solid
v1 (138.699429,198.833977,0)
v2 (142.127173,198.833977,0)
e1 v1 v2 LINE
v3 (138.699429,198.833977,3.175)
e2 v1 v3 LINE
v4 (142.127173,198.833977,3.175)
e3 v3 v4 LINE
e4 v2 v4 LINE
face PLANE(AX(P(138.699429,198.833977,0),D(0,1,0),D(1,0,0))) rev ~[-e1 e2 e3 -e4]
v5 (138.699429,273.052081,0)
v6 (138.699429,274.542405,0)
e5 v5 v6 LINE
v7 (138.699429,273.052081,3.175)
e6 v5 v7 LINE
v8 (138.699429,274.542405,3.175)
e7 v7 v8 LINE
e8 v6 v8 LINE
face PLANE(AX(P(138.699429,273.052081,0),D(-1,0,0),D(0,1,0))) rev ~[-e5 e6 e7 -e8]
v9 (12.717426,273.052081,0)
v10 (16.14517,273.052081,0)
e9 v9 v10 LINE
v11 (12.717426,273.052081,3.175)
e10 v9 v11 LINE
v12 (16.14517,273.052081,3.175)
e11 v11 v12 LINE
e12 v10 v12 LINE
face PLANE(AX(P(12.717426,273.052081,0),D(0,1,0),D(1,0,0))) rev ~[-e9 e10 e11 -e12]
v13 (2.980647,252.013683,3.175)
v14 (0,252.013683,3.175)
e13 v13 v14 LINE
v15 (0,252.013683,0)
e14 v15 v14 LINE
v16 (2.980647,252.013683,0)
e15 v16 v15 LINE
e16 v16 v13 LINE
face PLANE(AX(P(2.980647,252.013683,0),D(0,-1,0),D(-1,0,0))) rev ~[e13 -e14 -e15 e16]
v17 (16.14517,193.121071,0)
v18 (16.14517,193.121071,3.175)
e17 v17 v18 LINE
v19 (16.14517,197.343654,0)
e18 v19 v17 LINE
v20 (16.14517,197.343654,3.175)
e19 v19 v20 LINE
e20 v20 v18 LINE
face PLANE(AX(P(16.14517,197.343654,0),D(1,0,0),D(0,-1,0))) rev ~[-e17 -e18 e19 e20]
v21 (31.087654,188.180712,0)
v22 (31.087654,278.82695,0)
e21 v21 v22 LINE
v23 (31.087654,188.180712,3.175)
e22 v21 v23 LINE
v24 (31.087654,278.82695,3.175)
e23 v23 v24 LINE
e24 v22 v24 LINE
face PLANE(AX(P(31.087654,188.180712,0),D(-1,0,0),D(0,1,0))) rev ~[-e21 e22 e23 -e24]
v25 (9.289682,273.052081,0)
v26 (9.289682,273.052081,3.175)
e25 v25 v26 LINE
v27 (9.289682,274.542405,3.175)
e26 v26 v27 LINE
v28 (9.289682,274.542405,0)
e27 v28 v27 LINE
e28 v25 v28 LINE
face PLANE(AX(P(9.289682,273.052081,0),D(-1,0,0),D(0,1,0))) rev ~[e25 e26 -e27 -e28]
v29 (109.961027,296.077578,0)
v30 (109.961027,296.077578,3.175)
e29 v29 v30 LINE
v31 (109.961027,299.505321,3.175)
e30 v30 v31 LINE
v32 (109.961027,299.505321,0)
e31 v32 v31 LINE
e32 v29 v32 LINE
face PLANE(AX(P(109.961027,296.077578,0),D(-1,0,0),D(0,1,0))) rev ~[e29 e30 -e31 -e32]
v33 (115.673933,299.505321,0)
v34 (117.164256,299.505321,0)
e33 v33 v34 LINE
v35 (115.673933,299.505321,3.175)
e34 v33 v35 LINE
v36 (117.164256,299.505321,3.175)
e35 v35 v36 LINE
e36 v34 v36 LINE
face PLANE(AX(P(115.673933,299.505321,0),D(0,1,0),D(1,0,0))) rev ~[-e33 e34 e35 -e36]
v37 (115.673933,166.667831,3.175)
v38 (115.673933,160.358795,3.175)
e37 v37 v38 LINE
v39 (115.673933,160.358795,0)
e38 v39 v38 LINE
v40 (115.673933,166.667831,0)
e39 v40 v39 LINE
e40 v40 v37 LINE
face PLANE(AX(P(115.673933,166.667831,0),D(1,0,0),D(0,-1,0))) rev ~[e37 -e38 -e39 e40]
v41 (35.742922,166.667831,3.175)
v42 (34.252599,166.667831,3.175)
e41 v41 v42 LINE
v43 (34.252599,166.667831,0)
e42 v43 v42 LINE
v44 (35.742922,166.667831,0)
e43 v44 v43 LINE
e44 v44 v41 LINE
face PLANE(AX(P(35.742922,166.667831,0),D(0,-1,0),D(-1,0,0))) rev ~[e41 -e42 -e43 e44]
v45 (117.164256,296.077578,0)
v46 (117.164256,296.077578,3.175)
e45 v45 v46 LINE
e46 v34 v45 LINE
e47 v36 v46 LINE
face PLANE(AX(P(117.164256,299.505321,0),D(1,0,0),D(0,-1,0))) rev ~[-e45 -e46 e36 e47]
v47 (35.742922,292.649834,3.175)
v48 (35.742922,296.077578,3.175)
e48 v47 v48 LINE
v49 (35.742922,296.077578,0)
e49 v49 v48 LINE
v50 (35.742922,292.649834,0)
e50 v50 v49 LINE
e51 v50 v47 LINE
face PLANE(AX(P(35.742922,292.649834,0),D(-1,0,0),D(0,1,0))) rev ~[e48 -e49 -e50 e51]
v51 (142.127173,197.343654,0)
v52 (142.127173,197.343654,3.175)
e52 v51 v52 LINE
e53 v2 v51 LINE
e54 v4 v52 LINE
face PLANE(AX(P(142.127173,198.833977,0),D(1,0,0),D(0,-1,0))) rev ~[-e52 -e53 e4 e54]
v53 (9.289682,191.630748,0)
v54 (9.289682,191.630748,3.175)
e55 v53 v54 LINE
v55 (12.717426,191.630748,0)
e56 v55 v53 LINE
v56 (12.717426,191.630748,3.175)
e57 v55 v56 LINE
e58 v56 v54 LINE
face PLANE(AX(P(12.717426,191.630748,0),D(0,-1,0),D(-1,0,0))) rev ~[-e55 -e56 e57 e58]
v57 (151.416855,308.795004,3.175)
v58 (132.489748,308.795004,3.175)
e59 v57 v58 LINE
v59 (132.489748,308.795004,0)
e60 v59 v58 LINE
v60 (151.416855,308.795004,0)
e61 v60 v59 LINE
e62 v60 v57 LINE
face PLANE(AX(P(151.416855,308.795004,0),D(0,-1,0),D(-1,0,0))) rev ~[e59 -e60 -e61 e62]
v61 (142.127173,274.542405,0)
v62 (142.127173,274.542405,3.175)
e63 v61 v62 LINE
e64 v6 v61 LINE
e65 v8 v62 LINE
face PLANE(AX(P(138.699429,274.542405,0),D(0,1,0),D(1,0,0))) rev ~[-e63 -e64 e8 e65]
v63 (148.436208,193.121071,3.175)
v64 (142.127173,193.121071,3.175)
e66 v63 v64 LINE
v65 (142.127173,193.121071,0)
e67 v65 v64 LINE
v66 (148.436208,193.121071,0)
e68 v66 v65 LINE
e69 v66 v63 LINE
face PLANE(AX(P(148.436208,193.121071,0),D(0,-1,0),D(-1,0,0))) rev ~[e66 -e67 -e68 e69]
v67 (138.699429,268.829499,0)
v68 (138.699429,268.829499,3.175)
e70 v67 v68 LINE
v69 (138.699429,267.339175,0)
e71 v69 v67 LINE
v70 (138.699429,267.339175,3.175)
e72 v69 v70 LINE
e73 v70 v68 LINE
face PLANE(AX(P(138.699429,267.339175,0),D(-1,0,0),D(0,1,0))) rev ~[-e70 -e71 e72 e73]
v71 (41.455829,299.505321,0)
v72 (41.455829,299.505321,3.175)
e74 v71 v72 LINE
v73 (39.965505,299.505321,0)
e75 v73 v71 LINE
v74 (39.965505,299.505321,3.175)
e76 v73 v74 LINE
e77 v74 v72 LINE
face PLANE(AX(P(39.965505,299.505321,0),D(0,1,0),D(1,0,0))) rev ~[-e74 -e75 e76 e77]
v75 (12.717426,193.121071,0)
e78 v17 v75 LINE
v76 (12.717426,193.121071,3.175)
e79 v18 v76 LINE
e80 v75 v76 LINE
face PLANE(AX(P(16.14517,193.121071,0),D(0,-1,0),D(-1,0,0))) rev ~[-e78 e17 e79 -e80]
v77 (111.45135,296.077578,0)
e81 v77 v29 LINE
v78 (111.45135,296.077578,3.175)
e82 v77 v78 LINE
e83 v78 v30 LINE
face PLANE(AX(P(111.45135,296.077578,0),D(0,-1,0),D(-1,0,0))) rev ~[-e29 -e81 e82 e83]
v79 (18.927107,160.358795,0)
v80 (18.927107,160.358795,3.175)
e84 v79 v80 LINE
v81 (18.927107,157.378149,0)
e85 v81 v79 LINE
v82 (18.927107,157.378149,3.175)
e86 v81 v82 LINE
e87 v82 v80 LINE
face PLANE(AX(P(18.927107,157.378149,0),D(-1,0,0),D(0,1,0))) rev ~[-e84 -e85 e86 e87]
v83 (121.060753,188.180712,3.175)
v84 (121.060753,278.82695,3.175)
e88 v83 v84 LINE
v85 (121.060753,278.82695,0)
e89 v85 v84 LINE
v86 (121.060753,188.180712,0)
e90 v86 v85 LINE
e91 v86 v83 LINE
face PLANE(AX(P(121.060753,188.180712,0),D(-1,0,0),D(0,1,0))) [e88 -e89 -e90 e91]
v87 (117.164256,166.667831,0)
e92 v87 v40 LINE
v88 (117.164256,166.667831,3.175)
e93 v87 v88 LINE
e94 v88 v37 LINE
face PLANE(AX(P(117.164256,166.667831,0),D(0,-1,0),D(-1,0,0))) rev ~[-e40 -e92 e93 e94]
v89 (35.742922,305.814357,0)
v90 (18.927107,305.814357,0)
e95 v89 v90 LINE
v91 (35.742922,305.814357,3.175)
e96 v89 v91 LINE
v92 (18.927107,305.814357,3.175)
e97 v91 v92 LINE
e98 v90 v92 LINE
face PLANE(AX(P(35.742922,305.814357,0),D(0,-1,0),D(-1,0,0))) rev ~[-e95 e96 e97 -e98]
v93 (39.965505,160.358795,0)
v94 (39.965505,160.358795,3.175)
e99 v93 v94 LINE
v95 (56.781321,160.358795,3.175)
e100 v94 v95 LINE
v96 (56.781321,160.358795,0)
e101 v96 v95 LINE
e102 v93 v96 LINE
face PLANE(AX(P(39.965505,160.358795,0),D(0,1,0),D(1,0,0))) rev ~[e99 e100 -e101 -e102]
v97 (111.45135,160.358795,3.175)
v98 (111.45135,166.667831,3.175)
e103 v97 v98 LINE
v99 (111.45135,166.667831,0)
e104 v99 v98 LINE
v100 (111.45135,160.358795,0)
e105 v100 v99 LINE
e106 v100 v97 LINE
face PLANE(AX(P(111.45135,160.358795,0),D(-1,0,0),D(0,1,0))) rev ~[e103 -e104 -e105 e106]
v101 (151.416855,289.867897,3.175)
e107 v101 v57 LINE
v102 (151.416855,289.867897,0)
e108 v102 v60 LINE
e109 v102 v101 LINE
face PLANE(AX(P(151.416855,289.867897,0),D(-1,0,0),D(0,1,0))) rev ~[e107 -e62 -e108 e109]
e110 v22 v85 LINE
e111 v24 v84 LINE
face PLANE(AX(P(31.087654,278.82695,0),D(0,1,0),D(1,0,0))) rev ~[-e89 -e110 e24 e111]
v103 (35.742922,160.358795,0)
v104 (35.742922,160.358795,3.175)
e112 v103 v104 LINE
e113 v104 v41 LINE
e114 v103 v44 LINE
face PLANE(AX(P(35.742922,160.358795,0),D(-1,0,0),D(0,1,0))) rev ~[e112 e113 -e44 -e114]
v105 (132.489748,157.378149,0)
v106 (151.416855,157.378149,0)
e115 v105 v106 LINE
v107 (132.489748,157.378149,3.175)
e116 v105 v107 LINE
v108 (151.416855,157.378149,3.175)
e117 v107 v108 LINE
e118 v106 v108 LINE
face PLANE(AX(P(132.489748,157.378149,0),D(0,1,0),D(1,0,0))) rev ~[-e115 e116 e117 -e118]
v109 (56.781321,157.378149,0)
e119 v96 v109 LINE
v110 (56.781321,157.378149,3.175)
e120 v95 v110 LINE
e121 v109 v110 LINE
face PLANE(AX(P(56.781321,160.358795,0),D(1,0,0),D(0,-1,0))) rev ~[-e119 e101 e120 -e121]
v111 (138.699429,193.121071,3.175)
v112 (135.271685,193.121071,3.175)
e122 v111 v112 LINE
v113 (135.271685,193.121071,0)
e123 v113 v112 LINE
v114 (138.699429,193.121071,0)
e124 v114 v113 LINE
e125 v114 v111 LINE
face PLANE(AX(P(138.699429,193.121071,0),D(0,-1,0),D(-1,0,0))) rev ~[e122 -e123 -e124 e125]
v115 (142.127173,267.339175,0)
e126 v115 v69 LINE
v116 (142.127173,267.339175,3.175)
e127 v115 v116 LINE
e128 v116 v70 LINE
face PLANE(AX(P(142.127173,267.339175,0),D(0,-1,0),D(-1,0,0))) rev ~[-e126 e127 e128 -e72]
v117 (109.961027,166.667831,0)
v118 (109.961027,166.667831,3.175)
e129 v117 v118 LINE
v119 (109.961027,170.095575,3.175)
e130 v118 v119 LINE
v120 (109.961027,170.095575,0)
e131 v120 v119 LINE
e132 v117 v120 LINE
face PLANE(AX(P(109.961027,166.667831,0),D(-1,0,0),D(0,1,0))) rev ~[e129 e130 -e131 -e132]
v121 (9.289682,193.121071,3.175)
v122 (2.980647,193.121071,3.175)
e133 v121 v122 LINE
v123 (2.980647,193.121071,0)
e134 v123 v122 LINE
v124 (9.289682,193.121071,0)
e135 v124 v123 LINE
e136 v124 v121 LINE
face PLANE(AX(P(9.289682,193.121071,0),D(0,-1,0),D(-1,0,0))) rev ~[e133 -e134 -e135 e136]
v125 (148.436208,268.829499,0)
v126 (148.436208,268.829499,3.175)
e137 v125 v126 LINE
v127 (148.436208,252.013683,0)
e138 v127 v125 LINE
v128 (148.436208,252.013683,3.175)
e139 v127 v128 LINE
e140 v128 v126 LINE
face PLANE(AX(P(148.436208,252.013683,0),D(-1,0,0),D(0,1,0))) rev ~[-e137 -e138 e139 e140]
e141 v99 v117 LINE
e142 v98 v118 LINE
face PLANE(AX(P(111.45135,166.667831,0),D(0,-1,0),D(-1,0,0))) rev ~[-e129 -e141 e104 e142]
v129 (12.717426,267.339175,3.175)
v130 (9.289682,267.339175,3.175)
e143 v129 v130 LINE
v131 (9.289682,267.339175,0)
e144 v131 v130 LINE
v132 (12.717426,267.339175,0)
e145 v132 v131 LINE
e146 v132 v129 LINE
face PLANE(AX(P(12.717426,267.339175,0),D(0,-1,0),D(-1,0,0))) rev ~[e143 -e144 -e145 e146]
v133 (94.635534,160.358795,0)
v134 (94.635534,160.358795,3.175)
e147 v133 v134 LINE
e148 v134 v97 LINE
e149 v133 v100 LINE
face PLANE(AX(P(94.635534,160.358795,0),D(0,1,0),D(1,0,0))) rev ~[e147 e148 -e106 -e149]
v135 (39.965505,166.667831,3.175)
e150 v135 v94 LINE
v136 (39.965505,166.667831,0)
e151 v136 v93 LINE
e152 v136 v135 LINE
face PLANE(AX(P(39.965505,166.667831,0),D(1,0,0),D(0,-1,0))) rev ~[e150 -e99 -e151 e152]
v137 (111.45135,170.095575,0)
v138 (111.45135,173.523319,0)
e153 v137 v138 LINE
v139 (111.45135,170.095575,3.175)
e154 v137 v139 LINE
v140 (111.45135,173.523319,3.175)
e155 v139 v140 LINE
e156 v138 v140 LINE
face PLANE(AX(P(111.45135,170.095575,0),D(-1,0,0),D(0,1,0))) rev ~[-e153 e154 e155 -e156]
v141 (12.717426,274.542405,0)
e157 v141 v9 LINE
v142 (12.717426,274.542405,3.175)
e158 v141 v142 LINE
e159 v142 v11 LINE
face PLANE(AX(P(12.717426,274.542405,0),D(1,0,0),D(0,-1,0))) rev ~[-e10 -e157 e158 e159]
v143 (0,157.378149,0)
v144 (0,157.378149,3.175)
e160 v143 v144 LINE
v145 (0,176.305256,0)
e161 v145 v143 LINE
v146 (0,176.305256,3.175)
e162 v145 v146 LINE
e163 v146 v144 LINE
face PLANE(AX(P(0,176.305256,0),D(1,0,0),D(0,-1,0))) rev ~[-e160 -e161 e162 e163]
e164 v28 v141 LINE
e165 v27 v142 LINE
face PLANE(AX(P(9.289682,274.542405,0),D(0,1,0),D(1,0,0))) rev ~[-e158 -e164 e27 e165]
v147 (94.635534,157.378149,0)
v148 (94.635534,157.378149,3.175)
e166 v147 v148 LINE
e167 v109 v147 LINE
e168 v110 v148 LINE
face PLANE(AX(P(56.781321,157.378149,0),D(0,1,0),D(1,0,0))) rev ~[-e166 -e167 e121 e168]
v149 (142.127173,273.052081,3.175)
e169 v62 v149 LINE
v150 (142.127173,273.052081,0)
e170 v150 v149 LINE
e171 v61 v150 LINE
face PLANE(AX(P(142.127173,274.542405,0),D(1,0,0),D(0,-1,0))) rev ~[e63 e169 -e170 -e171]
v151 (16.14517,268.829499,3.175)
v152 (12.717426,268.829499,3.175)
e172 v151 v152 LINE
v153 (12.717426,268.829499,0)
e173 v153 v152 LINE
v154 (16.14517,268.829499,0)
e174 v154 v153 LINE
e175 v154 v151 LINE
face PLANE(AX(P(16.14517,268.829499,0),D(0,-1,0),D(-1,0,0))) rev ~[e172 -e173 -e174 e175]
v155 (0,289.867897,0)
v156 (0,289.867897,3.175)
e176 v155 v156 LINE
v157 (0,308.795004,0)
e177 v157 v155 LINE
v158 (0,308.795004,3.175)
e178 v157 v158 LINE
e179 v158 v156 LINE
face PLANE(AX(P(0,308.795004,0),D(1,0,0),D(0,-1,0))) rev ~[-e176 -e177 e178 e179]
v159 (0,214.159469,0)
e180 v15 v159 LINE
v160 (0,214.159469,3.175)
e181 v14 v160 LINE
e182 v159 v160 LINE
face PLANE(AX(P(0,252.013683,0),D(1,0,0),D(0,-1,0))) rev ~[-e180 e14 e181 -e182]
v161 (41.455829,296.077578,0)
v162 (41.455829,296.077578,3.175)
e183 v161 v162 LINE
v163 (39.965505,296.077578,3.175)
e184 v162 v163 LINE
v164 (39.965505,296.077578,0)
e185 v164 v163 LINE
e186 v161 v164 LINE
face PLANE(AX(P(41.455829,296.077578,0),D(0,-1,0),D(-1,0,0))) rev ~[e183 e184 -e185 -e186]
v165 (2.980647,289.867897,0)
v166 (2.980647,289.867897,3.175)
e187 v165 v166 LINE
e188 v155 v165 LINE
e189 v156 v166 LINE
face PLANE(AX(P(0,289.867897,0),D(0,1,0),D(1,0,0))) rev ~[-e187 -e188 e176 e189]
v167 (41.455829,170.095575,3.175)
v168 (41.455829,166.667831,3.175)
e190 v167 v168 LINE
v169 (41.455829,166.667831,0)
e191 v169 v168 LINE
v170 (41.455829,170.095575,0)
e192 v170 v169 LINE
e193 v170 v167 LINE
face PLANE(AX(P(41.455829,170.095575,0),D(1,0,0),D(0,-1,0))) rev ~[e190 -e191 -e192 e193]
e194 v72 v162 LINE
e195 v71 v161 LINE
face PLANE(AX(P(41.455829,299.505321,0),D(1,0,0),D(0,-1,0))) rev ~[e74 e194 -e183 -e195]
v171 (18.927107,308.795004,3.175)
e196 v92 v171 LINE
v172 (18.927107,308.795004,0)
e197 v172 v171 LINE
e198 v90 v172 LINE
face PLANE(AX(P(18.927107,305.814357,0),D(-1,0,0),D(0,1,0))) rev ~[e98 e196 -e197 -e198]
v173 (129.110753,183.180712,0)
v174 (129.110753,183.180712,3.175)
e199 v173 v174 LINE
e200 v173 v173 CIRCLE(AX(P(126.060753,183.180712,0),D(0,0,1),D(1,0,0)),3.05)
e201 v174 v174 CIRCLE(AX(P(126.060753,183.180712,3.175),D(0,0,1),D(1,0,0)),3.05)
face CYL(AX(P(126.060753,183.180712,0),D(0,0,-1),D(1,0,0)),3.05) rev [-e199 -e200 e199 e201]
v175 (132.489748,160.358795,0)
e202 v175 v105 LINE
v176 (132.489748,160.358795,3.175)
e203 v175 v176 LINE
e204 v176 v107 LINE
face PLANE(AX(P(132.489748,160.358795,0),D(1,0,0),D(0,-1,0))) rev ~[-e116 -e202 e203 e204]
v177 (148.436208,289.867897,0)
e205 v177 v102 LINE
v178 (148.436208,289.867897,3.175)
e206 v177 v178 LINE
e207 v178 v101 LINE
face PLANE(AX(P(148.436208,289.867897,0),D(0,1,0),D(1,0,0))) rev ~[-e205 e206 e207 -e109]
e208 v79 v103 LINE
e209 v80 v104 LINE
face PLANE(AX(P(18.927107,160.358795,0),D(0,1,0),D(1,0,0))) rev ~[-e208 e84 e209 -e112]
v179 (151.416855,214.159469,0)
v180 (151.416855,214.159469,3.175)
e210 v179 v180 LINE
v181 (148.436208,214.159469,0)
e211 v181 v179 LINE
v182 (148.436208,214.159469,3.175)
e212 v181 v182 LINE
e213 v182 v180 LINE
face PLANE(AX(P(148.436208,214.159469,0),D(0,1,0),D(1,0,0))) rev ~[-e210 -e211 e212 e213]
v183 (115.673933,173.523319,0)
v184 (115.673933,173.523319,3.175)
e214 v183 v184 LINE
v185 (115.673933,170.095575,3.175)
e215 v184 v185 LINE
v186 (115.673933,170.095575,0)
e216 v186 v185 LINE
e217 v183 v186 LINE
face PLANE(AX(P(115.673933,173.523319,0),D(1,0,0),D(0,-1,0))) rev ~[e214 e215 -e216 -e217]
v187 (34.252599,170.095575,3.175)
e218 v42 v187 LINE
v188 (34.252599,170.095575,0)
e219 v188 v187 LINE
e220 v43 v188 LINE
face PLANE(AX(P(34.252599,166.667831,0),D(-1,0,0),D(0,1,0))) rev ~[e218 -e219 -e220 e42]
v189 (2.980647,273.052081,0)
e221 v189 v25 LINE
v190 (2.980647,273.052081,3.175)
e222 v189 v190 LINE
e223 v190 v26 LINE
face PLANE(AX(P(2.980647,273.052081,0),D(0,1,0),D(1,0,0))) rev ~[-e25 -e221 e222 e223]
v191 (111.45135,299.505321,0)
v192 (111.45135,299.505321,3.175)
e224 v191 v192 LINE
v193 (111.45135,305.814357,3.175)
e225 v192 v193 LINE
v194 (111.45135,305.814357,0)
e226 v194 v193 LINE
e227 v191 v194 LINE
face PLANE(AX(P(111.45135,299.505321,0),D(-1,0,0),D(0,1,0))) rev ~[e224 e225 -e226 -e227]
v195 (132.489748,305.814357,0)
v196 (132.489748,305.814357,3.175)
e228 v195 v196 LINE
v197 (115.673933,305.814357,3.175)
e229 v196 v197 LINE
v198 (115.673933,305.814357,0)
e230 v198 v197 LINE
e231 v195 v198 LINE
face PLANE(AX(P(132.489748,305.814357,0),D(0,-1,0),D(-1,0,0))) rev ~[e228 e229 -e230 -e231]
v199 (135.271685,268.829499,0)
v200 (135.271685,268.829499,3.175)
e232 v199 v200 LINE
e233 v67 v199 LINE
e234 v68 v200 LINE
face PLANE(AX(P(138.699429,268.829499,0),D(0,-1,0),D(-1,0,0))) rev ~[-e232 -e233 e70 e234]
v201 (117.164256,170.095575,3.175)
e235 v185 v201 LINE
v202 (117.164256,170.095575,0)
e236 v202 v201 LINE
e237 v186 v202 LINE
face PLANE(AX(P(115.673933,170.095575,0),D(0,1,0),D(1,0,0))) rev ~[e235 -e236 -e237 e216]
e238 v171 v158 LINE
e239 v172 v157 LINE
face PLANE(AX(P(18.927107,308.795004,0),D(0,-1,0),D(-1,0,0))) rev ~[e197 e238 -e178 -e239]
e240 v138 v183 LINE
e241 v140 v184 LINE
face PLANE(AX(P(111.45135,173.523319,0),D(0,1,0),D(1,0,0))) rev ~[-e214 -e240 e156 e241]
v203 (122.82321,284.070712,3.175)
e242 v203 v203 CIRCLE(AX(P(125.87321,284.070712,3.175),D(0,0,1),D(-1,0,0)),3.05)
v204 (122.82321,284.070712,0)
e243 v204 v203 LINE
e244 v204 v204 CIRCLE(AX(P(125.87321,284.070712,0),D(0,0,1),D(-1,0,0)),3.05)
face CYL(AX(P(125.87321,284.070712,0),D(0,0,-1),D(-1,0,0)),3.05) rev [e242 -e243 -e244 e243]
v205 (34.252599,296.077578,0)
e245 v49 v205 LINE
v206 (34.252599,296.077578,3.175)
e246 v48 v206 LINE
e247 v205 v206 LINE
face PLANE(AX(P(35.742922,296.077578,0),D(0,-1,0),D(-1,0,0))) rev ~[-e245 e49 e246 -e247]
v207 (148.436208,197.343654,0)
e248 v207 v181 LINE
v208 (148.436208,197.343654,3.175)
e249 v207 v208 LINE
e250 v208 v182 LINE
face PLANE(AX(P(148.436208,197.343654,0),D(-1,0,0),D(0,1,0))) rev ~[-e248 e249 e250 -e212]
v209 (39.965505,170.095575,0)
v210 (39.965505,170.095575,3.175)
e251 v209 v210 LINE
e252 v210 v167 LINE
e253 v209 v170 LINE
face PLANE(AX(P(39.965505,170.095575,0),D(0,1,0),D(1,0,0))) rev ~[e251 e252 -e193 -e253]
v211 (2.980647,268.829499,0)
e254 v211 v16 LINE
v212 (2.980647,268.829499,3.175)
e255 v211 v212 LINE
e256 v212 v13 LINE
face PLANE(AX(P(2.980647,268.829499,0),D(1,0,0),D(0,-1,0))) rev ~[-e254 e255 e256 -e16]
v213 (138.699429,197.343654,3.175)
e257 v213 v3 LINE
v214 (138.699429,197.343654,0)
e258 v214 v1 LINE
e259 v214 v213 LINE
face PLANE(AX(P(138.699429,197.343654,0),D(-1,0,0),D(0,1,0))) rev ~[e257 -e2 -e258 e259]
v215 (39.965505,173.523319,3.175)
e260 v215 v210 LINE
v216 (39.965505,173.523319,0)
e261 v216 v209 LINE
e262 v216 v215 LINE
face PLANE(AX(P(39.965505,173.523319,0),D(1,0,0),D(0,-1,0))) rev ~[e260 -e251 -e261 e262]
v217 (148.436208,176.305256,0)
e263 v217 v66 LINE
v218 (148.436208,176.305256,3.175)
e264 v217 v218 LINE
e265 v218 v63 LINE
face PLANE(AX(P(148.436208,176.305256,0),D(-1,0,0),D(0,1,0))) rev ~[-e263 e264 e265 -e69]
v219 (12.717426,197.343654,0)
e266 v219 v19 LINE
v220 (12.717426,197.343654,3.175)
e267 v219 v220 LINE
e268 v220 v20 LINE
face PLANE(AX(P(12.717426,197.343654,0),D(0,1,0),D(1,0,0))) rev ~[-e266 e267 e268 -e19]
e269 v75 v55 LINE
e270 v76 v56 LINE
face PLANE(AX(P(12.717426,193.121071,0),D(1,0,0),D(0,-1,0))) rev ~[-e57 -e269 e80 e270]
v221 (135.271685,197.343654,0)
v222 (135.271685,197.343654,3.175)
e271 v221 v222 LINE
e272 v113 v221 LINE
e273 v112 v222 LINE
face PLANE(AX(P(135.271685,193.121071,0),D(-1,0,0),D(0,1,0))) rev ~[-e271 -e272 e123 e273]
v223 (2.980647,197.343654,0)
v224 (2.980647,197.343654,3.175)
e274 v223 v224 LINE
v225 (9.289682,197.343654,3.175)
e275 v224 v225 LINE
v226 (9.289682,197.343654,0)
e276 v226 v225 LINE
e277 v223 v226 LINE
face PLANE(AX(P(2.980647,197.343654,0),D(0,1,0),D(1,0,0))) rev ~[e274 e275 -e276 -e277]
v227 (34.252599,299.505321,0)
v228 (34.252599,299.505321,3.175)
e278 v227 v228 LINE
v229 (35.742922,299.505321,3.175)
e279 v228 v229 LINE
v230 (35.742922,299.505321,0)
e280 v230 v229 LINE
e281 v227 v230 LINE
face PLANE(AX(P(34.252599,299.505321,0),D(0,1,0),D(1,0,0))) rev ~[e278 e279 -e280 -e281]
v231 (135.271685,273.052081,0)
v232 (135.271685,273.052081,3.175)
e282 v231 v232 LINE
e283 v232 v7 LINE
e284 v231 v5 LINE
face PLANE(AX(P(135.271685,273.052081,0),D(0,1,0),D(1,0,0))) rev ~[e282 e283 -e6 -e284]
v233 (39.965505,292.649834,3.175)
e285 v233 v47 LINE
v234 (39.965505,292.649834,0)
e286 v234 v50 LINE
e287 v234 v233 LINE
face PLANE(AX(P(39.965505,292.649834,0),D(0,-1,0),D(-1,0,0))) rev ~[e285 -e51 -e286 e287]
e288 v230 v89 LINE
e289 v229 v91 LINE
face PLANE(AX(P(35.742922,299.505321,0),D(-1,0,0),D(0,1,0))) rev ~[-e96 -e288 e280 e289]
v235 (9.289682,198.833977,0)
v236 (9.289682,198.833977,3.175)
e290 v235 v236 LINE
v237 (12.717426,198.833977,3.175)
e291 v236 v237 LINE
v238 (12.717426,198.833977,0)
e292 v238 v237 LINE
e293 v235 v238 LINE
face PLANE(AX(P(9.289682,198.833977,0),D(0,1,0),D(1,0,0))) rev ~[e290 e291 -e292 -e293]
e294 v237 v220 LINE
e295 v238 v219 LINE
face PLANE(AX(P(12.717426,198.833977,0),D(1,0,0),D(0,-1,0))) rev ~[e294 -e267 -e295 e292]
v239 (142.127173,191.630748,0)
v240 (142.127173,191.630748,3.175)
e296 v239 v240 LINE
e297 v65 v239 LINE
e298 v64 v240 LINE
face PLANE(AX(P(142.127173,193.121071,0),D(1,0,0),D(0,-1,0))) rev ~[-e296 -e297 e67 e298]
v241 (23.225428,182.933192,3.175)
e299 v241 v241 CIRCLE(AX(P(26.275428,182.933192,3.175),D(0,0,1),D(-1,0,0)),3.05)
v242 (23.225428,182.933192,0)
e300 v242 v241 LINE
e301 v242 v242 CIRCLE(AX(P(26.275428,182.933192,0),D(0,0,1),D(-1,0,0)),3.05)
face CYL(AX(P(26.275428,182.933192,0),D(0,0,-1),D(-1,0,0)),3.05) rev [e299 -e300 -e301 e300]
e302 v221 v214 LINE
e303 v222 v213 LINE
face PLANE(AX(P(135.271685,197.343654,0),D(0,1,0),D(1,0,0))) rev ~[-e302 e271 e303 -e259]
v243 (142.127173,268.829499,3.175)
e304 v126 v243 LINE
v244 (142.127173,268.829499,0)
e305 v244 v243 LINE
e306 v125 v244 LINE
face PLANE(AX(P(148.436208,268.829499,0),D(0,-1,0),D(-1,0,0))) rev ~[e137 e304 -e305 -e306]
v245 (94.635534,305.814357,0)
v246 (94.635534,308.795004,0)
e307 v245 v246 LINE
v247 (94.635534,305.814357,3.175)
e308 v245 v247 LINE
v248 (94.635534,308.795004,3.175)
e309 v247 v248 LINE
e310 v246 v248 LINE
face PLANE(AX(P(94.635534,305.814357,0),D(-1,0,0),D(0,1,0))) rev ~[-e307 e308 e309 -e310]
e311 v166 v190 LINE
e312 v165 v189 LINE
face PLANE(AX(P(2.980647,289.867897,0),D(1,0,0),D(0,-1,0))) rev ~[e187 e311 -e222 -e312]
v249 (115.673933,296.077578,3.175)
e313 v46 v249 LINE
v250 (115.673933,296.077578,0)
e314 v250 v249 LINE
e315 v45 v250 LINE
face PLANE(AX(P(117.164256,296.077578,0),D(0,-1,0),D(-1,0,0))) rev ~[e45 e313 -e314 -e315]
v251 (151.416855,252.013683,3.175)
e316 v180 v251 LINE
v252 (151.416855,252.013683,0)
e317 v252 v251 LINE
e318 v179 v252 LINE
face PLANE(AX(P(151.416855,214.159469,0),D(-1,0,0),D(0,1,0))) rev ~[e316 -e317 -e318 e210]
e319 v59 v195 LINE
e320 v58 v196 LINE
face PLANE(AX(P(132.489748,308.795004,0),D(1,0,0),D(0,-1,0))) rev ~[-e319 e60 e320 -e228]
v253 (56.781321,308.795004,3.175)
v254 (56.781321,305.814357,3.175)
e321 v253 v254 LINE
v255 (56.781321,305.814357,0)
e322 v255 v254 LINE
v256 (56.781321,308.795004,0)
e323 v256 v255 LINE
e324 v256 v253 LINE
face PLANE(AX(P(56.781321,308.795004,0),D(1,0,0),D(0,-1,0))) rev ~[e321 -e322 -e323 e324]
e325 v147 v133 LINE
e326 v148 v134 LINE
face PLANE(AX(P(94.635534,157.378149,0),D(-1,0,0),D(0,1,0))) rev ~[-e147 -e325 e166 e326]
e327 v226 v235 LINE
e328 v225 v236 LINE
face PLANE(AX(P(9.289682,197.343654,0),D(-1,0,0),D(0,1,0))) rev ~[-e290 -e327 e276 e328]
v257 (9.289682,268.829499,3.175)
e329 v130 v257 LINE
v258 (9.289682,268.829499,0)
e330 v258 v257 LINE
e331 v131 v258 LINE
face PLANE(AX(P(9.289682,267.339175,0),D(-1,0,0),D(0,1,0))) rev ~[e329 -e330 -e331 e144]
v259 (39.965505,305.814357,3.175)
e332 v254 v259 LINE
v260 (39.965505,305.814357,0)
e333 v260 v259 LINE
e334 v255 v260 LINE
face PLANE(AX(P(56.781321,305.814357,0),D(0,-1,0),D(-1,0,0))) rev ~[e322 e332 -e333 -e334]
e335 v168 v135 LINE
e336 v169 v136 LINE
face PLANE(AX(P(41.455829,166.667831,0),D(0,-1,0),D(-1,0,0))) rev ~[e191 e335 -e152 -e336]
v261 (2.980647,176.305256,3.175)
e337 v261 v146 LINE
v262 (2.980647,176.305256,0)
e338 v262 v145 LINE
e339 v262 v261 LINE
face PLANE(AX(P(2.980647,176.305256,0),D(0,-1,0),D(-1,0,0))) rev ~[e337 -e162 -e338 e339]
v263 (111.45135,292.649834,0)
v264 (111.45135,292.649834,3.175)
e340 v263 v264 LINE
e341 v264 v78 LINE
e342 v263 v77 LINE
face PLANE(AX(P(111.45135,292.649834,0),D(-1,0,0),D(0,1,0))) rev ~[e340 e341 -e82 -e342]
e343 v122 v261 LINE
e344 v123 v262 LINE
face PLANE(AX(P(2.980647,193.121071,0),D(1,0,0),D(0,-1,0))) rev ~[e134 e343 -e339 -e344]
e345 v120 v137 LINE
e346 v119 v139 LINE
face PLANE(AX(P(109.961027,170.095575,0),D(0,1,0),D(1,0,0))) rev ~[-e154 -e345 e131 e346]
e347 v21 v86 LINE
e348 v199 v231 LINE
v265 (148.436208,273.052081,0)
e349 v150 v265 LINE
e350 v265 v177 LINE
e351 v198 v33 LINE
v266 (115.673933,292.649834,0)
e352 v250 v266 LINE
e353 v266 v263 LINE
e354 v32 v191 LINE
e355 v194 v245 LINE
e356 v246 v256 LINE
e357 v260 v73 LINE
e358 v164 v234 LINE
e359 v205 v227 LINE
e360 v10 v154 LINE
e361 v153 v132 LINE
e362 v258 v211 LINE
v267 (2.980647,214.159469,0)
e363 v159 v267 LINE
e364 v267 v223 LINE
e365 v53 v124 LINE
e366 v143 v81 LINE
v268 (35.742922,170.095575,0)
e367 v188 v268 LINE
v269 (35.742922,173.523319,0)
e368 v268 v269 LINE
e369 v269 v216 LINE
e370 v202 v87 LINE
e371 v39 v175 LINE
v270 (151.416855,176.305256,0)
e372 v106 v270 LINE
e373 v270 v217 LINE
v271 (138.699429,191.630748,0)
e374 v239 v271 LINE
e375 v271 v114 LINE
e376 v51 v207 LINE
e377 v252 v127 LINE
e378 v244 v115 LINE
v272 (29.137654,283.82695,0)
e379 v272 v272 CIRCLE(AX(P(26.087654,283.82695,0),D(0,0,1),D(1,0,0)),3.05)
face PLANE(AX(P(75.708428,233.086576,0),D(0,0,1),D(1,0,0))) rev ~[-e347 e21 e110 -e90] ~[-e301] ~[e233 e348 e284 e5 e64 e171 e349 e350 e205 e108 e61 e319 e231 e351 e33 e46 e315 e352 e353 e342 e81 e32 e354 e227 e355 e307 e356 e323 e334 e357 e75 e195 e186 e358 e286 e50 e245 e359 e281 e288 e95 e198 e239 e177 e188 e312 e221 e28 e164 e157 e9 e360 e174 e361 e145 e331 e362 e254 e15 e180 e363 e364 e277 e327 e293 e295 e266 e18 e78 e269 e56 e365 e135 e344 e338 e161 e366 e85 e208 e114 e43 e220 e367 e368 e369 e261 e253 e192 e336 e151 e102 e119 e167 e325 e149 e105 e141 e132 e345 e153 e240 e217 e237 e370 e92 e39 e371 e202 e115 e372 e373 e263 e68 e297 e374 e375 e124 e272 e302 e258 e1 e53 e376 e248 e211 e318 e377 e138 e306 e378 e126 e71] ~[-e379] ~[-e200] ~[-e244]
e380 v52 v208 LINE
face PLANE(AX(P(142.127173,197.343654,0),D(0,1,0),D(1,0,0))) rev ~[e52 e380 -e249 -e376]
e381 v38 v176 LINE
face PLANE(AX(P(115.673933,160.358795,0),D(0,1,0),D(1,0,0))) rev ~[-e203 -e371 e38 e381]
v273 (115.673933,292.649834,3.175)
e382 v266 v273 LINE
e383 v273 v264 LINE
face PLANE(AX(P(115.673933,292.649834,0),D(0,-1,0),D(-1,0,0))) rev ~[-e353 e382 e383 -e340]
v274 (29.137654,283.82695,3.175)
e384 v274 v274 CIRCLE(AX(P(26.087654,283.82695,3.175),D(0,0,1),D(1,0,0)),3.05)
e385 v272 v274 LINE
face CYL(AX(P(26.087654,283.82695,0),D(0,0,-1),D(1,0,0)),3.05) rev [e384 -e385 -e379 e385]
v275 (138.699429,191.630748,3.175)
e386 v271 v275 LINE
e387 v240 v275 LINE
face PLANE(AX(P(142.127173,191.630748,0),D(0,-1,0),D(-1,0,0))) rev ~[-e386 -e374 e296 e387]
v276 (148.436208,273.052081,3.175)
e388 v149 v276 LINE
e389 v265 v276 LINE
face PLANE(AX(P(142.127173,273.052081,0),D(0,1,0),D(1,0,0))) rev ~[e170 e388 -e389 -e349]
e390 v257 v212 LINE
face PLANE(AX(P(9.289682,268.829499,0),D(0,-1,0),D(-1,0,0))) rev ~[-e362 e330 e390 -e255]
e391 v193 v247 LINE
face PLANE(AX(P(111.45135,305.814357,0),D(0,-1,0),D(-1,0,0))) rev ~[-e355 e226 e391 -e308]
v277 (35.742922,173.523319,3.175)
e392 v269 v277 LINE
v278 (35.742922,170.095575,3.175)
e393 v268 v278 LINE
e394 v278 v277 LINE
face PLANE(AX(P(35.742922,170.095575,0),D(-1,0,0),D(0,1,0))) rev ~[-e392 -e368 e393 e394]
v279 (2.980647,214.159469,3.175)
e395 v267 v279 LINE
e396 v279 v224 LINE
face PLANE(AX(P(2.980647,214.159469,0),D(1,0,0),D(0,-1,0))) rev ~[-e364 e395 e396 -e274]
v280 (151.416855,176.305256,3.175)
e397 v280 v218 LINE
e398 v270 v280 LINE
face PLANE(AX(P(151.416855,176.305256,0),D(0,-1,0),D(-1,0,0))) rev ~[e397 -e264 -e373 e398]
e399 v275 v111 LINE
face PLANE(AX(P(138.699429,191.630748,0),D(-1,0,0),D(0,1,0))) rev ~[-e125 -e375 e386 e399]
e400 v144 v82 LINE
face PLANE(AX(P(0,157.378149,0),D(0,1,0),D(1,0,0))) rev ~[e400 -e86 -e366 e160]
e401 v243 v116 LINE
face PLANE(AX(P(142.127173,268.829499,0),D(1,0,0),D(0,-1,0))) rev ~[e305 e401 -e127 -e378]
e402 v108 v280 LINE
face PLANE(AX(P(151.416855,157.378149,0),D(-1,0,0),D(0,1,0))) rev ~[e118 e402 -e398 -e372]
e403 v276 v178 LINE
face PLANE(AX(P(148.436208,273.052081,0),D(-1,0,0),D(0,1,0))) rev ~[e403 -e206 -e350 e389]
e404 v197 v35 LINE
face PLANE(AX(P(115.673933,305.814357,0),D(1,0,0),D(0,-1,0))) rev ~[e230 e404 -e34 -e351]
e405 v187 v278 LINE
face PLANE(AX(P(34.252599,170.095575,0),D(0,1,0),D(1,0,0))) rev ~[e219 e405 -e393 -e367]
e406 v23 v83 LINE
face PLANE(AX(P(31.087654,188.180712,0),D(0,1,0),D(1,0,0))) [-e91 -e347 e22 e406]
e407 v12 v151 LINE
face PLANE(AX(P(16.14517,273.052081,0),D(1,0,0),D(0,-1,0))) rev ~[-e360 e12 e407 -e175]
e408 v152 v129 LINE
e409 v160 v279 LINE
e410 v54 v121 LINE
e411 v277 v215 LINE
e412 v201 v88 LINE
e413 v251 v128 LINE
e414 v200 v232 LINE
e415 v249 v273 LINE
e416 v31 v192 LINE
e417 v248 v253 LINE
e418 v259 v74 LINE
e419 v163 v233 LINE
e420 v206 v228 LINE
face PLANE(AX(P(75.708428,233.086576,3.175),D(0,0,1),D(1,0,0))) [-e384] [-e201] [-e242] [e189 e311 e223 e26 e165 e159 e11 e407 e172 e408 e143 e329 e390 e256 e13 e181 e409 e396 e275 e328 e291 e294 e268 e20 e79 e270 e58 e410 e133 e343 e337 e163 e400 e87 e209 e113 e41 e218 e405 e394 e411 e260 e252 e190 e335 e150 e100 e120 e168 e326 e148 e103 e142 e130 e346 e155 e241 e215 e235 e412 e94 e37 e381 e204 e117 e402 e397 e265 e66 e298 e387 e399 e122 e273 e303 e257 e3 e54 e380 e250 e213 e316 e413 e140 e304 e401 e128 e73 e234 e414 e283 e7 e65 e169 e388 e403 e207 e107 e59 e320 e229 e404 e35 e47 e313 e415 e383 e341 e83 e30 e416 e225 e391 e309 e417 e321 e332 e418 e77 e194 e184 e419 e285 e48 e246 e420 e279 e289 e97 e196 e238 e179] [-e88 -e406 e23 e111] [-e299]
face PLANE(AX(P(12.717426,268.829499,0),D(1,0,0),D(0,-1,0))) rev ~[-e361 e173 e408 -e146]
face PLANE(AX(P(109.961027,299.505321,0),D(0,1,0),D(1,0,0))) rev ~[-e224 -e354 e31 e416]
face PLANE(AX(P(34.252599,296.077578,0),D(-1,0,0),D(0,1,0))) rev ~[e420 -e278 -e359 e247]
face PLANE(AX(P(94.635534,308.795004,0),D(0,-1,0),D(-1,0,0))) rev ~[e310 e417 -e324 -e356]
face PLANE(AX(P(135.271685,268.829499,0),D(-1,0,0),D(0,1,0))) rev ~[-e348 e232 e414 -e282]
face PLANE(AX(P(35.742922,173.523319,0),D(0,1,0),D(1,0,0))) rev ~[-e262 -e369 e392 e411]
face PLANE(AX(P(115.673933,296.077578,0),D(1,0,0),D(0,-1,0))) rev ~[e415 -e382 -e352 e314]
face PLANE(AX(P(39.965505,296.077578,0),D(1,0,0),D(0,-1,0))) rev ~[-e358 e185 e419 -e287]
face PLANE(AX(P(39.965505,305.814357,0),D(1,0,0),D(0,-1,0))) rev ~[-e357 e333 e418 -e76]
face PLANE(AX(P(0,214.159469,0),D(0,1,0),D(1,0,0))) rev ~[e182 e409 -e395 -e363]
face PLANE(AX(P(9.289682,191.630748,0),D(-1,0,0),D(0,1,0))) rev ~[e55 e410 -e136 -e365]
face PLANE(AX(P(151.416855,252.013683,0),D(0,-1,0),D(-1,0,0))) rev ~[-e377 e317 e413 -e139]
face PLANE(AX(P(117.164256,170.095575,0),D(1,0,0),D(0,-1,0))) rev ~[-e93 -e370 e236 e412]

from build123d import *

# Parameters (mm, degrees)
SKETCH1_R           = 3.05
SKETCH1_W           = 89.973098966
SKETCH1_H           = 90.646237782
BOSS_EXTRUDE1_DEPTH = 3.175


with BuildPart() as part:
    # Sketch1 → Boss-Extrude1 (new body)
    with BuildSketch(Plane.XY):
        Polygon((0, 308.79500376), (0, 289.867896869), (2.980646754, 289.867896869), (2.980646754, 273.05208143), (9.289682385, 273.05208143), (9.289682385, 274.542404807), (12.717426152, 274.542404807), (12.717426152, 273.05208143), (16.14516992, 273.05208143), (16.14516992, 268.829498528), (12.717426152, 268.829498528), (12.717426152, 267.33917515), (9.289682385, 267.33917515), (9.289682385, 268.829498528), (2.980646754, 268.829498528), (2.980646754, 252.013683088), (0, 252.013683088), (0, 214.159469307), (2.980646754, 214.159469307), (2.980646754, 197.343653867), (9.289682385, 197.343653867), (9.289682385, 198.833977244), (12.717426152, 198.833977244), (12.717426152, 197.343653867), (16.14516992, 197.343653867), (16.14516992, 193.121070965), (12.717426152, 193.121070965), (12.717426152, 191.630747588), (9.289682385, 191.630747588), (9.289682385, 193.121070965), (2.980646754, 193.121070965), (2.980646754, 176.305255525), (0, 176.305255525), (0, 157.378148634), (18.927106891, 157.378148634), (18.927106891, 160.358795389), (35.74292233, 160.358795389), (35.74292233, 166.667831019), (34.252598953, 166.667831019), (34.252598953, 170.095574787), (35.74292233, 170.095574787), (35.74292233, 173.523318554), (39.965505232, 173.523318554), (39.965505232, 170.095574787), (41.45582861, 170.095574787), (41.45582861, 166.667831019), (39.965505232, 166.667831019), (39.965505232, 160.358795389), (56.781320672, 160.358795389), (56.781320672, 157.378148634), (94.635534454, 157.378148634), (94.635534454, 160.358795389), (111.451349893, 160.358795389), (111.451349893, 166.667831019), (109.961026516, 166.667831019), (109.961026516, 170.095574787), (111.451349893, 170.095574787), (111.451349893, 173.523318554), (115.673932795, 173.523318554), (115.673932795, 170.095574787), (117.164256172, 170.095574787), (117.164256172, 166.667831019), (115.673932795, 166.667831019), (115.673932795, 160.358795389), (132.489748235, 160.358795389), (132.489748235, 157.378148634), (151.416855126, 157.378148634), (151.416855126, 176.305255525), (148.436208371, 176.305255525), (148.436208371, 193.121070965), (142.127172741, 193.121070965), (142.127172741, 191.630747588), (138.699428973, 191.630747588), (138.699428973, 193.121070965), (135.271685206, 193.121070965), (135.271685206, 197.343653867), (138.699428973, 197.343653867), (138.699428973, 198.833977244), (142.127172741, 198.833977244), (142.127172741, 197.343653867), (148.436208371, 197.343653867), (148.436208371, 214.159469307), (151.416855126, 214.159469307), (151.416855126, 252.013683088), (148.436208371, 252.013683088), (148.436208371, 268.829498528), (142.127172741, 268.829498528), (142.127172741, 267.33917515), (138.699428973, 267.33917515), (138.699428973, 268.829498528), (135.271685206, 268.829498528), (135.271685206, 273.05208143), (138.699428973, 273.05208143), (138.699428973, 274.542404807), (142.127172741, 274.542404807), (142.127172741, 273.05208143), (148.436208371, 273.05208143), (148.436208371, 289.867896869), (151.416855126, 289.867896869), (151.416855126, 308.79500376), (132.489748235, 308.79500376), (132.489748235, 305.814357006), (115.673932795, 305.814357006), (115.673932795, 299.505321375), (117.164256172, 299.505321375), (117.164256172, 296.077577608), (115.673932795, 296.077577608), (115.673932795, 292.64983384), (111.451349893, 292.64983384), (111.451349893, 296.077577608), (109.961026516, 296.077577608), (109.961026516, 299.505321375), (111.451349893, 299.505321375), (111.451349893, 305.814357006), (94.635534454, 305.814357006), (94.635534454, 308.79500376), (56.781320672, 308.79500376), (56.781320672, 305.814357006), (39.965505232, 305.814357006), (39.965505232, 299.505321375), (41.45582861, 299.505321375), (41.45582861, 296.077577608), (39.965505232, 296.077577608), (39.965505232, 292.64983384), (35.74292233, 292.64983384), (35.74292233, 296.077577608), (34.252598953, 296.077577608), (34.252598953, 299.505321375), (35.74292233, 299.505321375), (35.74292233, 305.814357006), (18.927106891, 305.814357006), (18.927106891, 308.79500376), align=None)
        with Locations((26.087654184, 283.82694987)):
            Circle(SKETCH1_R, mode=Mode.SUBTRACT)
        with Locations(Location((125.873209609, 284.070712088, 0), (0, 0, 180))):
            Circle(SKETCH1_R, mode=Mode.SUBTRACT)
        with Locations((126.06075315, 183.180712088)):
            Circle(SKETCH1_R, mode=Mode.SUBTRACT)
        with Locations(Location((26.27542779, 182.933192277, 0), (0, 0, 180))):
            Circle(SKETCH1_R, mode=Mode.SUBTRACT)
        with Locations((76.074203667, 233.503830979)):
            Rectangle(SKETCH1_W, SKETCH1_H, mode=Mode.SUBTRACT)
    extrude(amount=BOSS_EXTRUDE1_DEPTH)


solid = part.part
